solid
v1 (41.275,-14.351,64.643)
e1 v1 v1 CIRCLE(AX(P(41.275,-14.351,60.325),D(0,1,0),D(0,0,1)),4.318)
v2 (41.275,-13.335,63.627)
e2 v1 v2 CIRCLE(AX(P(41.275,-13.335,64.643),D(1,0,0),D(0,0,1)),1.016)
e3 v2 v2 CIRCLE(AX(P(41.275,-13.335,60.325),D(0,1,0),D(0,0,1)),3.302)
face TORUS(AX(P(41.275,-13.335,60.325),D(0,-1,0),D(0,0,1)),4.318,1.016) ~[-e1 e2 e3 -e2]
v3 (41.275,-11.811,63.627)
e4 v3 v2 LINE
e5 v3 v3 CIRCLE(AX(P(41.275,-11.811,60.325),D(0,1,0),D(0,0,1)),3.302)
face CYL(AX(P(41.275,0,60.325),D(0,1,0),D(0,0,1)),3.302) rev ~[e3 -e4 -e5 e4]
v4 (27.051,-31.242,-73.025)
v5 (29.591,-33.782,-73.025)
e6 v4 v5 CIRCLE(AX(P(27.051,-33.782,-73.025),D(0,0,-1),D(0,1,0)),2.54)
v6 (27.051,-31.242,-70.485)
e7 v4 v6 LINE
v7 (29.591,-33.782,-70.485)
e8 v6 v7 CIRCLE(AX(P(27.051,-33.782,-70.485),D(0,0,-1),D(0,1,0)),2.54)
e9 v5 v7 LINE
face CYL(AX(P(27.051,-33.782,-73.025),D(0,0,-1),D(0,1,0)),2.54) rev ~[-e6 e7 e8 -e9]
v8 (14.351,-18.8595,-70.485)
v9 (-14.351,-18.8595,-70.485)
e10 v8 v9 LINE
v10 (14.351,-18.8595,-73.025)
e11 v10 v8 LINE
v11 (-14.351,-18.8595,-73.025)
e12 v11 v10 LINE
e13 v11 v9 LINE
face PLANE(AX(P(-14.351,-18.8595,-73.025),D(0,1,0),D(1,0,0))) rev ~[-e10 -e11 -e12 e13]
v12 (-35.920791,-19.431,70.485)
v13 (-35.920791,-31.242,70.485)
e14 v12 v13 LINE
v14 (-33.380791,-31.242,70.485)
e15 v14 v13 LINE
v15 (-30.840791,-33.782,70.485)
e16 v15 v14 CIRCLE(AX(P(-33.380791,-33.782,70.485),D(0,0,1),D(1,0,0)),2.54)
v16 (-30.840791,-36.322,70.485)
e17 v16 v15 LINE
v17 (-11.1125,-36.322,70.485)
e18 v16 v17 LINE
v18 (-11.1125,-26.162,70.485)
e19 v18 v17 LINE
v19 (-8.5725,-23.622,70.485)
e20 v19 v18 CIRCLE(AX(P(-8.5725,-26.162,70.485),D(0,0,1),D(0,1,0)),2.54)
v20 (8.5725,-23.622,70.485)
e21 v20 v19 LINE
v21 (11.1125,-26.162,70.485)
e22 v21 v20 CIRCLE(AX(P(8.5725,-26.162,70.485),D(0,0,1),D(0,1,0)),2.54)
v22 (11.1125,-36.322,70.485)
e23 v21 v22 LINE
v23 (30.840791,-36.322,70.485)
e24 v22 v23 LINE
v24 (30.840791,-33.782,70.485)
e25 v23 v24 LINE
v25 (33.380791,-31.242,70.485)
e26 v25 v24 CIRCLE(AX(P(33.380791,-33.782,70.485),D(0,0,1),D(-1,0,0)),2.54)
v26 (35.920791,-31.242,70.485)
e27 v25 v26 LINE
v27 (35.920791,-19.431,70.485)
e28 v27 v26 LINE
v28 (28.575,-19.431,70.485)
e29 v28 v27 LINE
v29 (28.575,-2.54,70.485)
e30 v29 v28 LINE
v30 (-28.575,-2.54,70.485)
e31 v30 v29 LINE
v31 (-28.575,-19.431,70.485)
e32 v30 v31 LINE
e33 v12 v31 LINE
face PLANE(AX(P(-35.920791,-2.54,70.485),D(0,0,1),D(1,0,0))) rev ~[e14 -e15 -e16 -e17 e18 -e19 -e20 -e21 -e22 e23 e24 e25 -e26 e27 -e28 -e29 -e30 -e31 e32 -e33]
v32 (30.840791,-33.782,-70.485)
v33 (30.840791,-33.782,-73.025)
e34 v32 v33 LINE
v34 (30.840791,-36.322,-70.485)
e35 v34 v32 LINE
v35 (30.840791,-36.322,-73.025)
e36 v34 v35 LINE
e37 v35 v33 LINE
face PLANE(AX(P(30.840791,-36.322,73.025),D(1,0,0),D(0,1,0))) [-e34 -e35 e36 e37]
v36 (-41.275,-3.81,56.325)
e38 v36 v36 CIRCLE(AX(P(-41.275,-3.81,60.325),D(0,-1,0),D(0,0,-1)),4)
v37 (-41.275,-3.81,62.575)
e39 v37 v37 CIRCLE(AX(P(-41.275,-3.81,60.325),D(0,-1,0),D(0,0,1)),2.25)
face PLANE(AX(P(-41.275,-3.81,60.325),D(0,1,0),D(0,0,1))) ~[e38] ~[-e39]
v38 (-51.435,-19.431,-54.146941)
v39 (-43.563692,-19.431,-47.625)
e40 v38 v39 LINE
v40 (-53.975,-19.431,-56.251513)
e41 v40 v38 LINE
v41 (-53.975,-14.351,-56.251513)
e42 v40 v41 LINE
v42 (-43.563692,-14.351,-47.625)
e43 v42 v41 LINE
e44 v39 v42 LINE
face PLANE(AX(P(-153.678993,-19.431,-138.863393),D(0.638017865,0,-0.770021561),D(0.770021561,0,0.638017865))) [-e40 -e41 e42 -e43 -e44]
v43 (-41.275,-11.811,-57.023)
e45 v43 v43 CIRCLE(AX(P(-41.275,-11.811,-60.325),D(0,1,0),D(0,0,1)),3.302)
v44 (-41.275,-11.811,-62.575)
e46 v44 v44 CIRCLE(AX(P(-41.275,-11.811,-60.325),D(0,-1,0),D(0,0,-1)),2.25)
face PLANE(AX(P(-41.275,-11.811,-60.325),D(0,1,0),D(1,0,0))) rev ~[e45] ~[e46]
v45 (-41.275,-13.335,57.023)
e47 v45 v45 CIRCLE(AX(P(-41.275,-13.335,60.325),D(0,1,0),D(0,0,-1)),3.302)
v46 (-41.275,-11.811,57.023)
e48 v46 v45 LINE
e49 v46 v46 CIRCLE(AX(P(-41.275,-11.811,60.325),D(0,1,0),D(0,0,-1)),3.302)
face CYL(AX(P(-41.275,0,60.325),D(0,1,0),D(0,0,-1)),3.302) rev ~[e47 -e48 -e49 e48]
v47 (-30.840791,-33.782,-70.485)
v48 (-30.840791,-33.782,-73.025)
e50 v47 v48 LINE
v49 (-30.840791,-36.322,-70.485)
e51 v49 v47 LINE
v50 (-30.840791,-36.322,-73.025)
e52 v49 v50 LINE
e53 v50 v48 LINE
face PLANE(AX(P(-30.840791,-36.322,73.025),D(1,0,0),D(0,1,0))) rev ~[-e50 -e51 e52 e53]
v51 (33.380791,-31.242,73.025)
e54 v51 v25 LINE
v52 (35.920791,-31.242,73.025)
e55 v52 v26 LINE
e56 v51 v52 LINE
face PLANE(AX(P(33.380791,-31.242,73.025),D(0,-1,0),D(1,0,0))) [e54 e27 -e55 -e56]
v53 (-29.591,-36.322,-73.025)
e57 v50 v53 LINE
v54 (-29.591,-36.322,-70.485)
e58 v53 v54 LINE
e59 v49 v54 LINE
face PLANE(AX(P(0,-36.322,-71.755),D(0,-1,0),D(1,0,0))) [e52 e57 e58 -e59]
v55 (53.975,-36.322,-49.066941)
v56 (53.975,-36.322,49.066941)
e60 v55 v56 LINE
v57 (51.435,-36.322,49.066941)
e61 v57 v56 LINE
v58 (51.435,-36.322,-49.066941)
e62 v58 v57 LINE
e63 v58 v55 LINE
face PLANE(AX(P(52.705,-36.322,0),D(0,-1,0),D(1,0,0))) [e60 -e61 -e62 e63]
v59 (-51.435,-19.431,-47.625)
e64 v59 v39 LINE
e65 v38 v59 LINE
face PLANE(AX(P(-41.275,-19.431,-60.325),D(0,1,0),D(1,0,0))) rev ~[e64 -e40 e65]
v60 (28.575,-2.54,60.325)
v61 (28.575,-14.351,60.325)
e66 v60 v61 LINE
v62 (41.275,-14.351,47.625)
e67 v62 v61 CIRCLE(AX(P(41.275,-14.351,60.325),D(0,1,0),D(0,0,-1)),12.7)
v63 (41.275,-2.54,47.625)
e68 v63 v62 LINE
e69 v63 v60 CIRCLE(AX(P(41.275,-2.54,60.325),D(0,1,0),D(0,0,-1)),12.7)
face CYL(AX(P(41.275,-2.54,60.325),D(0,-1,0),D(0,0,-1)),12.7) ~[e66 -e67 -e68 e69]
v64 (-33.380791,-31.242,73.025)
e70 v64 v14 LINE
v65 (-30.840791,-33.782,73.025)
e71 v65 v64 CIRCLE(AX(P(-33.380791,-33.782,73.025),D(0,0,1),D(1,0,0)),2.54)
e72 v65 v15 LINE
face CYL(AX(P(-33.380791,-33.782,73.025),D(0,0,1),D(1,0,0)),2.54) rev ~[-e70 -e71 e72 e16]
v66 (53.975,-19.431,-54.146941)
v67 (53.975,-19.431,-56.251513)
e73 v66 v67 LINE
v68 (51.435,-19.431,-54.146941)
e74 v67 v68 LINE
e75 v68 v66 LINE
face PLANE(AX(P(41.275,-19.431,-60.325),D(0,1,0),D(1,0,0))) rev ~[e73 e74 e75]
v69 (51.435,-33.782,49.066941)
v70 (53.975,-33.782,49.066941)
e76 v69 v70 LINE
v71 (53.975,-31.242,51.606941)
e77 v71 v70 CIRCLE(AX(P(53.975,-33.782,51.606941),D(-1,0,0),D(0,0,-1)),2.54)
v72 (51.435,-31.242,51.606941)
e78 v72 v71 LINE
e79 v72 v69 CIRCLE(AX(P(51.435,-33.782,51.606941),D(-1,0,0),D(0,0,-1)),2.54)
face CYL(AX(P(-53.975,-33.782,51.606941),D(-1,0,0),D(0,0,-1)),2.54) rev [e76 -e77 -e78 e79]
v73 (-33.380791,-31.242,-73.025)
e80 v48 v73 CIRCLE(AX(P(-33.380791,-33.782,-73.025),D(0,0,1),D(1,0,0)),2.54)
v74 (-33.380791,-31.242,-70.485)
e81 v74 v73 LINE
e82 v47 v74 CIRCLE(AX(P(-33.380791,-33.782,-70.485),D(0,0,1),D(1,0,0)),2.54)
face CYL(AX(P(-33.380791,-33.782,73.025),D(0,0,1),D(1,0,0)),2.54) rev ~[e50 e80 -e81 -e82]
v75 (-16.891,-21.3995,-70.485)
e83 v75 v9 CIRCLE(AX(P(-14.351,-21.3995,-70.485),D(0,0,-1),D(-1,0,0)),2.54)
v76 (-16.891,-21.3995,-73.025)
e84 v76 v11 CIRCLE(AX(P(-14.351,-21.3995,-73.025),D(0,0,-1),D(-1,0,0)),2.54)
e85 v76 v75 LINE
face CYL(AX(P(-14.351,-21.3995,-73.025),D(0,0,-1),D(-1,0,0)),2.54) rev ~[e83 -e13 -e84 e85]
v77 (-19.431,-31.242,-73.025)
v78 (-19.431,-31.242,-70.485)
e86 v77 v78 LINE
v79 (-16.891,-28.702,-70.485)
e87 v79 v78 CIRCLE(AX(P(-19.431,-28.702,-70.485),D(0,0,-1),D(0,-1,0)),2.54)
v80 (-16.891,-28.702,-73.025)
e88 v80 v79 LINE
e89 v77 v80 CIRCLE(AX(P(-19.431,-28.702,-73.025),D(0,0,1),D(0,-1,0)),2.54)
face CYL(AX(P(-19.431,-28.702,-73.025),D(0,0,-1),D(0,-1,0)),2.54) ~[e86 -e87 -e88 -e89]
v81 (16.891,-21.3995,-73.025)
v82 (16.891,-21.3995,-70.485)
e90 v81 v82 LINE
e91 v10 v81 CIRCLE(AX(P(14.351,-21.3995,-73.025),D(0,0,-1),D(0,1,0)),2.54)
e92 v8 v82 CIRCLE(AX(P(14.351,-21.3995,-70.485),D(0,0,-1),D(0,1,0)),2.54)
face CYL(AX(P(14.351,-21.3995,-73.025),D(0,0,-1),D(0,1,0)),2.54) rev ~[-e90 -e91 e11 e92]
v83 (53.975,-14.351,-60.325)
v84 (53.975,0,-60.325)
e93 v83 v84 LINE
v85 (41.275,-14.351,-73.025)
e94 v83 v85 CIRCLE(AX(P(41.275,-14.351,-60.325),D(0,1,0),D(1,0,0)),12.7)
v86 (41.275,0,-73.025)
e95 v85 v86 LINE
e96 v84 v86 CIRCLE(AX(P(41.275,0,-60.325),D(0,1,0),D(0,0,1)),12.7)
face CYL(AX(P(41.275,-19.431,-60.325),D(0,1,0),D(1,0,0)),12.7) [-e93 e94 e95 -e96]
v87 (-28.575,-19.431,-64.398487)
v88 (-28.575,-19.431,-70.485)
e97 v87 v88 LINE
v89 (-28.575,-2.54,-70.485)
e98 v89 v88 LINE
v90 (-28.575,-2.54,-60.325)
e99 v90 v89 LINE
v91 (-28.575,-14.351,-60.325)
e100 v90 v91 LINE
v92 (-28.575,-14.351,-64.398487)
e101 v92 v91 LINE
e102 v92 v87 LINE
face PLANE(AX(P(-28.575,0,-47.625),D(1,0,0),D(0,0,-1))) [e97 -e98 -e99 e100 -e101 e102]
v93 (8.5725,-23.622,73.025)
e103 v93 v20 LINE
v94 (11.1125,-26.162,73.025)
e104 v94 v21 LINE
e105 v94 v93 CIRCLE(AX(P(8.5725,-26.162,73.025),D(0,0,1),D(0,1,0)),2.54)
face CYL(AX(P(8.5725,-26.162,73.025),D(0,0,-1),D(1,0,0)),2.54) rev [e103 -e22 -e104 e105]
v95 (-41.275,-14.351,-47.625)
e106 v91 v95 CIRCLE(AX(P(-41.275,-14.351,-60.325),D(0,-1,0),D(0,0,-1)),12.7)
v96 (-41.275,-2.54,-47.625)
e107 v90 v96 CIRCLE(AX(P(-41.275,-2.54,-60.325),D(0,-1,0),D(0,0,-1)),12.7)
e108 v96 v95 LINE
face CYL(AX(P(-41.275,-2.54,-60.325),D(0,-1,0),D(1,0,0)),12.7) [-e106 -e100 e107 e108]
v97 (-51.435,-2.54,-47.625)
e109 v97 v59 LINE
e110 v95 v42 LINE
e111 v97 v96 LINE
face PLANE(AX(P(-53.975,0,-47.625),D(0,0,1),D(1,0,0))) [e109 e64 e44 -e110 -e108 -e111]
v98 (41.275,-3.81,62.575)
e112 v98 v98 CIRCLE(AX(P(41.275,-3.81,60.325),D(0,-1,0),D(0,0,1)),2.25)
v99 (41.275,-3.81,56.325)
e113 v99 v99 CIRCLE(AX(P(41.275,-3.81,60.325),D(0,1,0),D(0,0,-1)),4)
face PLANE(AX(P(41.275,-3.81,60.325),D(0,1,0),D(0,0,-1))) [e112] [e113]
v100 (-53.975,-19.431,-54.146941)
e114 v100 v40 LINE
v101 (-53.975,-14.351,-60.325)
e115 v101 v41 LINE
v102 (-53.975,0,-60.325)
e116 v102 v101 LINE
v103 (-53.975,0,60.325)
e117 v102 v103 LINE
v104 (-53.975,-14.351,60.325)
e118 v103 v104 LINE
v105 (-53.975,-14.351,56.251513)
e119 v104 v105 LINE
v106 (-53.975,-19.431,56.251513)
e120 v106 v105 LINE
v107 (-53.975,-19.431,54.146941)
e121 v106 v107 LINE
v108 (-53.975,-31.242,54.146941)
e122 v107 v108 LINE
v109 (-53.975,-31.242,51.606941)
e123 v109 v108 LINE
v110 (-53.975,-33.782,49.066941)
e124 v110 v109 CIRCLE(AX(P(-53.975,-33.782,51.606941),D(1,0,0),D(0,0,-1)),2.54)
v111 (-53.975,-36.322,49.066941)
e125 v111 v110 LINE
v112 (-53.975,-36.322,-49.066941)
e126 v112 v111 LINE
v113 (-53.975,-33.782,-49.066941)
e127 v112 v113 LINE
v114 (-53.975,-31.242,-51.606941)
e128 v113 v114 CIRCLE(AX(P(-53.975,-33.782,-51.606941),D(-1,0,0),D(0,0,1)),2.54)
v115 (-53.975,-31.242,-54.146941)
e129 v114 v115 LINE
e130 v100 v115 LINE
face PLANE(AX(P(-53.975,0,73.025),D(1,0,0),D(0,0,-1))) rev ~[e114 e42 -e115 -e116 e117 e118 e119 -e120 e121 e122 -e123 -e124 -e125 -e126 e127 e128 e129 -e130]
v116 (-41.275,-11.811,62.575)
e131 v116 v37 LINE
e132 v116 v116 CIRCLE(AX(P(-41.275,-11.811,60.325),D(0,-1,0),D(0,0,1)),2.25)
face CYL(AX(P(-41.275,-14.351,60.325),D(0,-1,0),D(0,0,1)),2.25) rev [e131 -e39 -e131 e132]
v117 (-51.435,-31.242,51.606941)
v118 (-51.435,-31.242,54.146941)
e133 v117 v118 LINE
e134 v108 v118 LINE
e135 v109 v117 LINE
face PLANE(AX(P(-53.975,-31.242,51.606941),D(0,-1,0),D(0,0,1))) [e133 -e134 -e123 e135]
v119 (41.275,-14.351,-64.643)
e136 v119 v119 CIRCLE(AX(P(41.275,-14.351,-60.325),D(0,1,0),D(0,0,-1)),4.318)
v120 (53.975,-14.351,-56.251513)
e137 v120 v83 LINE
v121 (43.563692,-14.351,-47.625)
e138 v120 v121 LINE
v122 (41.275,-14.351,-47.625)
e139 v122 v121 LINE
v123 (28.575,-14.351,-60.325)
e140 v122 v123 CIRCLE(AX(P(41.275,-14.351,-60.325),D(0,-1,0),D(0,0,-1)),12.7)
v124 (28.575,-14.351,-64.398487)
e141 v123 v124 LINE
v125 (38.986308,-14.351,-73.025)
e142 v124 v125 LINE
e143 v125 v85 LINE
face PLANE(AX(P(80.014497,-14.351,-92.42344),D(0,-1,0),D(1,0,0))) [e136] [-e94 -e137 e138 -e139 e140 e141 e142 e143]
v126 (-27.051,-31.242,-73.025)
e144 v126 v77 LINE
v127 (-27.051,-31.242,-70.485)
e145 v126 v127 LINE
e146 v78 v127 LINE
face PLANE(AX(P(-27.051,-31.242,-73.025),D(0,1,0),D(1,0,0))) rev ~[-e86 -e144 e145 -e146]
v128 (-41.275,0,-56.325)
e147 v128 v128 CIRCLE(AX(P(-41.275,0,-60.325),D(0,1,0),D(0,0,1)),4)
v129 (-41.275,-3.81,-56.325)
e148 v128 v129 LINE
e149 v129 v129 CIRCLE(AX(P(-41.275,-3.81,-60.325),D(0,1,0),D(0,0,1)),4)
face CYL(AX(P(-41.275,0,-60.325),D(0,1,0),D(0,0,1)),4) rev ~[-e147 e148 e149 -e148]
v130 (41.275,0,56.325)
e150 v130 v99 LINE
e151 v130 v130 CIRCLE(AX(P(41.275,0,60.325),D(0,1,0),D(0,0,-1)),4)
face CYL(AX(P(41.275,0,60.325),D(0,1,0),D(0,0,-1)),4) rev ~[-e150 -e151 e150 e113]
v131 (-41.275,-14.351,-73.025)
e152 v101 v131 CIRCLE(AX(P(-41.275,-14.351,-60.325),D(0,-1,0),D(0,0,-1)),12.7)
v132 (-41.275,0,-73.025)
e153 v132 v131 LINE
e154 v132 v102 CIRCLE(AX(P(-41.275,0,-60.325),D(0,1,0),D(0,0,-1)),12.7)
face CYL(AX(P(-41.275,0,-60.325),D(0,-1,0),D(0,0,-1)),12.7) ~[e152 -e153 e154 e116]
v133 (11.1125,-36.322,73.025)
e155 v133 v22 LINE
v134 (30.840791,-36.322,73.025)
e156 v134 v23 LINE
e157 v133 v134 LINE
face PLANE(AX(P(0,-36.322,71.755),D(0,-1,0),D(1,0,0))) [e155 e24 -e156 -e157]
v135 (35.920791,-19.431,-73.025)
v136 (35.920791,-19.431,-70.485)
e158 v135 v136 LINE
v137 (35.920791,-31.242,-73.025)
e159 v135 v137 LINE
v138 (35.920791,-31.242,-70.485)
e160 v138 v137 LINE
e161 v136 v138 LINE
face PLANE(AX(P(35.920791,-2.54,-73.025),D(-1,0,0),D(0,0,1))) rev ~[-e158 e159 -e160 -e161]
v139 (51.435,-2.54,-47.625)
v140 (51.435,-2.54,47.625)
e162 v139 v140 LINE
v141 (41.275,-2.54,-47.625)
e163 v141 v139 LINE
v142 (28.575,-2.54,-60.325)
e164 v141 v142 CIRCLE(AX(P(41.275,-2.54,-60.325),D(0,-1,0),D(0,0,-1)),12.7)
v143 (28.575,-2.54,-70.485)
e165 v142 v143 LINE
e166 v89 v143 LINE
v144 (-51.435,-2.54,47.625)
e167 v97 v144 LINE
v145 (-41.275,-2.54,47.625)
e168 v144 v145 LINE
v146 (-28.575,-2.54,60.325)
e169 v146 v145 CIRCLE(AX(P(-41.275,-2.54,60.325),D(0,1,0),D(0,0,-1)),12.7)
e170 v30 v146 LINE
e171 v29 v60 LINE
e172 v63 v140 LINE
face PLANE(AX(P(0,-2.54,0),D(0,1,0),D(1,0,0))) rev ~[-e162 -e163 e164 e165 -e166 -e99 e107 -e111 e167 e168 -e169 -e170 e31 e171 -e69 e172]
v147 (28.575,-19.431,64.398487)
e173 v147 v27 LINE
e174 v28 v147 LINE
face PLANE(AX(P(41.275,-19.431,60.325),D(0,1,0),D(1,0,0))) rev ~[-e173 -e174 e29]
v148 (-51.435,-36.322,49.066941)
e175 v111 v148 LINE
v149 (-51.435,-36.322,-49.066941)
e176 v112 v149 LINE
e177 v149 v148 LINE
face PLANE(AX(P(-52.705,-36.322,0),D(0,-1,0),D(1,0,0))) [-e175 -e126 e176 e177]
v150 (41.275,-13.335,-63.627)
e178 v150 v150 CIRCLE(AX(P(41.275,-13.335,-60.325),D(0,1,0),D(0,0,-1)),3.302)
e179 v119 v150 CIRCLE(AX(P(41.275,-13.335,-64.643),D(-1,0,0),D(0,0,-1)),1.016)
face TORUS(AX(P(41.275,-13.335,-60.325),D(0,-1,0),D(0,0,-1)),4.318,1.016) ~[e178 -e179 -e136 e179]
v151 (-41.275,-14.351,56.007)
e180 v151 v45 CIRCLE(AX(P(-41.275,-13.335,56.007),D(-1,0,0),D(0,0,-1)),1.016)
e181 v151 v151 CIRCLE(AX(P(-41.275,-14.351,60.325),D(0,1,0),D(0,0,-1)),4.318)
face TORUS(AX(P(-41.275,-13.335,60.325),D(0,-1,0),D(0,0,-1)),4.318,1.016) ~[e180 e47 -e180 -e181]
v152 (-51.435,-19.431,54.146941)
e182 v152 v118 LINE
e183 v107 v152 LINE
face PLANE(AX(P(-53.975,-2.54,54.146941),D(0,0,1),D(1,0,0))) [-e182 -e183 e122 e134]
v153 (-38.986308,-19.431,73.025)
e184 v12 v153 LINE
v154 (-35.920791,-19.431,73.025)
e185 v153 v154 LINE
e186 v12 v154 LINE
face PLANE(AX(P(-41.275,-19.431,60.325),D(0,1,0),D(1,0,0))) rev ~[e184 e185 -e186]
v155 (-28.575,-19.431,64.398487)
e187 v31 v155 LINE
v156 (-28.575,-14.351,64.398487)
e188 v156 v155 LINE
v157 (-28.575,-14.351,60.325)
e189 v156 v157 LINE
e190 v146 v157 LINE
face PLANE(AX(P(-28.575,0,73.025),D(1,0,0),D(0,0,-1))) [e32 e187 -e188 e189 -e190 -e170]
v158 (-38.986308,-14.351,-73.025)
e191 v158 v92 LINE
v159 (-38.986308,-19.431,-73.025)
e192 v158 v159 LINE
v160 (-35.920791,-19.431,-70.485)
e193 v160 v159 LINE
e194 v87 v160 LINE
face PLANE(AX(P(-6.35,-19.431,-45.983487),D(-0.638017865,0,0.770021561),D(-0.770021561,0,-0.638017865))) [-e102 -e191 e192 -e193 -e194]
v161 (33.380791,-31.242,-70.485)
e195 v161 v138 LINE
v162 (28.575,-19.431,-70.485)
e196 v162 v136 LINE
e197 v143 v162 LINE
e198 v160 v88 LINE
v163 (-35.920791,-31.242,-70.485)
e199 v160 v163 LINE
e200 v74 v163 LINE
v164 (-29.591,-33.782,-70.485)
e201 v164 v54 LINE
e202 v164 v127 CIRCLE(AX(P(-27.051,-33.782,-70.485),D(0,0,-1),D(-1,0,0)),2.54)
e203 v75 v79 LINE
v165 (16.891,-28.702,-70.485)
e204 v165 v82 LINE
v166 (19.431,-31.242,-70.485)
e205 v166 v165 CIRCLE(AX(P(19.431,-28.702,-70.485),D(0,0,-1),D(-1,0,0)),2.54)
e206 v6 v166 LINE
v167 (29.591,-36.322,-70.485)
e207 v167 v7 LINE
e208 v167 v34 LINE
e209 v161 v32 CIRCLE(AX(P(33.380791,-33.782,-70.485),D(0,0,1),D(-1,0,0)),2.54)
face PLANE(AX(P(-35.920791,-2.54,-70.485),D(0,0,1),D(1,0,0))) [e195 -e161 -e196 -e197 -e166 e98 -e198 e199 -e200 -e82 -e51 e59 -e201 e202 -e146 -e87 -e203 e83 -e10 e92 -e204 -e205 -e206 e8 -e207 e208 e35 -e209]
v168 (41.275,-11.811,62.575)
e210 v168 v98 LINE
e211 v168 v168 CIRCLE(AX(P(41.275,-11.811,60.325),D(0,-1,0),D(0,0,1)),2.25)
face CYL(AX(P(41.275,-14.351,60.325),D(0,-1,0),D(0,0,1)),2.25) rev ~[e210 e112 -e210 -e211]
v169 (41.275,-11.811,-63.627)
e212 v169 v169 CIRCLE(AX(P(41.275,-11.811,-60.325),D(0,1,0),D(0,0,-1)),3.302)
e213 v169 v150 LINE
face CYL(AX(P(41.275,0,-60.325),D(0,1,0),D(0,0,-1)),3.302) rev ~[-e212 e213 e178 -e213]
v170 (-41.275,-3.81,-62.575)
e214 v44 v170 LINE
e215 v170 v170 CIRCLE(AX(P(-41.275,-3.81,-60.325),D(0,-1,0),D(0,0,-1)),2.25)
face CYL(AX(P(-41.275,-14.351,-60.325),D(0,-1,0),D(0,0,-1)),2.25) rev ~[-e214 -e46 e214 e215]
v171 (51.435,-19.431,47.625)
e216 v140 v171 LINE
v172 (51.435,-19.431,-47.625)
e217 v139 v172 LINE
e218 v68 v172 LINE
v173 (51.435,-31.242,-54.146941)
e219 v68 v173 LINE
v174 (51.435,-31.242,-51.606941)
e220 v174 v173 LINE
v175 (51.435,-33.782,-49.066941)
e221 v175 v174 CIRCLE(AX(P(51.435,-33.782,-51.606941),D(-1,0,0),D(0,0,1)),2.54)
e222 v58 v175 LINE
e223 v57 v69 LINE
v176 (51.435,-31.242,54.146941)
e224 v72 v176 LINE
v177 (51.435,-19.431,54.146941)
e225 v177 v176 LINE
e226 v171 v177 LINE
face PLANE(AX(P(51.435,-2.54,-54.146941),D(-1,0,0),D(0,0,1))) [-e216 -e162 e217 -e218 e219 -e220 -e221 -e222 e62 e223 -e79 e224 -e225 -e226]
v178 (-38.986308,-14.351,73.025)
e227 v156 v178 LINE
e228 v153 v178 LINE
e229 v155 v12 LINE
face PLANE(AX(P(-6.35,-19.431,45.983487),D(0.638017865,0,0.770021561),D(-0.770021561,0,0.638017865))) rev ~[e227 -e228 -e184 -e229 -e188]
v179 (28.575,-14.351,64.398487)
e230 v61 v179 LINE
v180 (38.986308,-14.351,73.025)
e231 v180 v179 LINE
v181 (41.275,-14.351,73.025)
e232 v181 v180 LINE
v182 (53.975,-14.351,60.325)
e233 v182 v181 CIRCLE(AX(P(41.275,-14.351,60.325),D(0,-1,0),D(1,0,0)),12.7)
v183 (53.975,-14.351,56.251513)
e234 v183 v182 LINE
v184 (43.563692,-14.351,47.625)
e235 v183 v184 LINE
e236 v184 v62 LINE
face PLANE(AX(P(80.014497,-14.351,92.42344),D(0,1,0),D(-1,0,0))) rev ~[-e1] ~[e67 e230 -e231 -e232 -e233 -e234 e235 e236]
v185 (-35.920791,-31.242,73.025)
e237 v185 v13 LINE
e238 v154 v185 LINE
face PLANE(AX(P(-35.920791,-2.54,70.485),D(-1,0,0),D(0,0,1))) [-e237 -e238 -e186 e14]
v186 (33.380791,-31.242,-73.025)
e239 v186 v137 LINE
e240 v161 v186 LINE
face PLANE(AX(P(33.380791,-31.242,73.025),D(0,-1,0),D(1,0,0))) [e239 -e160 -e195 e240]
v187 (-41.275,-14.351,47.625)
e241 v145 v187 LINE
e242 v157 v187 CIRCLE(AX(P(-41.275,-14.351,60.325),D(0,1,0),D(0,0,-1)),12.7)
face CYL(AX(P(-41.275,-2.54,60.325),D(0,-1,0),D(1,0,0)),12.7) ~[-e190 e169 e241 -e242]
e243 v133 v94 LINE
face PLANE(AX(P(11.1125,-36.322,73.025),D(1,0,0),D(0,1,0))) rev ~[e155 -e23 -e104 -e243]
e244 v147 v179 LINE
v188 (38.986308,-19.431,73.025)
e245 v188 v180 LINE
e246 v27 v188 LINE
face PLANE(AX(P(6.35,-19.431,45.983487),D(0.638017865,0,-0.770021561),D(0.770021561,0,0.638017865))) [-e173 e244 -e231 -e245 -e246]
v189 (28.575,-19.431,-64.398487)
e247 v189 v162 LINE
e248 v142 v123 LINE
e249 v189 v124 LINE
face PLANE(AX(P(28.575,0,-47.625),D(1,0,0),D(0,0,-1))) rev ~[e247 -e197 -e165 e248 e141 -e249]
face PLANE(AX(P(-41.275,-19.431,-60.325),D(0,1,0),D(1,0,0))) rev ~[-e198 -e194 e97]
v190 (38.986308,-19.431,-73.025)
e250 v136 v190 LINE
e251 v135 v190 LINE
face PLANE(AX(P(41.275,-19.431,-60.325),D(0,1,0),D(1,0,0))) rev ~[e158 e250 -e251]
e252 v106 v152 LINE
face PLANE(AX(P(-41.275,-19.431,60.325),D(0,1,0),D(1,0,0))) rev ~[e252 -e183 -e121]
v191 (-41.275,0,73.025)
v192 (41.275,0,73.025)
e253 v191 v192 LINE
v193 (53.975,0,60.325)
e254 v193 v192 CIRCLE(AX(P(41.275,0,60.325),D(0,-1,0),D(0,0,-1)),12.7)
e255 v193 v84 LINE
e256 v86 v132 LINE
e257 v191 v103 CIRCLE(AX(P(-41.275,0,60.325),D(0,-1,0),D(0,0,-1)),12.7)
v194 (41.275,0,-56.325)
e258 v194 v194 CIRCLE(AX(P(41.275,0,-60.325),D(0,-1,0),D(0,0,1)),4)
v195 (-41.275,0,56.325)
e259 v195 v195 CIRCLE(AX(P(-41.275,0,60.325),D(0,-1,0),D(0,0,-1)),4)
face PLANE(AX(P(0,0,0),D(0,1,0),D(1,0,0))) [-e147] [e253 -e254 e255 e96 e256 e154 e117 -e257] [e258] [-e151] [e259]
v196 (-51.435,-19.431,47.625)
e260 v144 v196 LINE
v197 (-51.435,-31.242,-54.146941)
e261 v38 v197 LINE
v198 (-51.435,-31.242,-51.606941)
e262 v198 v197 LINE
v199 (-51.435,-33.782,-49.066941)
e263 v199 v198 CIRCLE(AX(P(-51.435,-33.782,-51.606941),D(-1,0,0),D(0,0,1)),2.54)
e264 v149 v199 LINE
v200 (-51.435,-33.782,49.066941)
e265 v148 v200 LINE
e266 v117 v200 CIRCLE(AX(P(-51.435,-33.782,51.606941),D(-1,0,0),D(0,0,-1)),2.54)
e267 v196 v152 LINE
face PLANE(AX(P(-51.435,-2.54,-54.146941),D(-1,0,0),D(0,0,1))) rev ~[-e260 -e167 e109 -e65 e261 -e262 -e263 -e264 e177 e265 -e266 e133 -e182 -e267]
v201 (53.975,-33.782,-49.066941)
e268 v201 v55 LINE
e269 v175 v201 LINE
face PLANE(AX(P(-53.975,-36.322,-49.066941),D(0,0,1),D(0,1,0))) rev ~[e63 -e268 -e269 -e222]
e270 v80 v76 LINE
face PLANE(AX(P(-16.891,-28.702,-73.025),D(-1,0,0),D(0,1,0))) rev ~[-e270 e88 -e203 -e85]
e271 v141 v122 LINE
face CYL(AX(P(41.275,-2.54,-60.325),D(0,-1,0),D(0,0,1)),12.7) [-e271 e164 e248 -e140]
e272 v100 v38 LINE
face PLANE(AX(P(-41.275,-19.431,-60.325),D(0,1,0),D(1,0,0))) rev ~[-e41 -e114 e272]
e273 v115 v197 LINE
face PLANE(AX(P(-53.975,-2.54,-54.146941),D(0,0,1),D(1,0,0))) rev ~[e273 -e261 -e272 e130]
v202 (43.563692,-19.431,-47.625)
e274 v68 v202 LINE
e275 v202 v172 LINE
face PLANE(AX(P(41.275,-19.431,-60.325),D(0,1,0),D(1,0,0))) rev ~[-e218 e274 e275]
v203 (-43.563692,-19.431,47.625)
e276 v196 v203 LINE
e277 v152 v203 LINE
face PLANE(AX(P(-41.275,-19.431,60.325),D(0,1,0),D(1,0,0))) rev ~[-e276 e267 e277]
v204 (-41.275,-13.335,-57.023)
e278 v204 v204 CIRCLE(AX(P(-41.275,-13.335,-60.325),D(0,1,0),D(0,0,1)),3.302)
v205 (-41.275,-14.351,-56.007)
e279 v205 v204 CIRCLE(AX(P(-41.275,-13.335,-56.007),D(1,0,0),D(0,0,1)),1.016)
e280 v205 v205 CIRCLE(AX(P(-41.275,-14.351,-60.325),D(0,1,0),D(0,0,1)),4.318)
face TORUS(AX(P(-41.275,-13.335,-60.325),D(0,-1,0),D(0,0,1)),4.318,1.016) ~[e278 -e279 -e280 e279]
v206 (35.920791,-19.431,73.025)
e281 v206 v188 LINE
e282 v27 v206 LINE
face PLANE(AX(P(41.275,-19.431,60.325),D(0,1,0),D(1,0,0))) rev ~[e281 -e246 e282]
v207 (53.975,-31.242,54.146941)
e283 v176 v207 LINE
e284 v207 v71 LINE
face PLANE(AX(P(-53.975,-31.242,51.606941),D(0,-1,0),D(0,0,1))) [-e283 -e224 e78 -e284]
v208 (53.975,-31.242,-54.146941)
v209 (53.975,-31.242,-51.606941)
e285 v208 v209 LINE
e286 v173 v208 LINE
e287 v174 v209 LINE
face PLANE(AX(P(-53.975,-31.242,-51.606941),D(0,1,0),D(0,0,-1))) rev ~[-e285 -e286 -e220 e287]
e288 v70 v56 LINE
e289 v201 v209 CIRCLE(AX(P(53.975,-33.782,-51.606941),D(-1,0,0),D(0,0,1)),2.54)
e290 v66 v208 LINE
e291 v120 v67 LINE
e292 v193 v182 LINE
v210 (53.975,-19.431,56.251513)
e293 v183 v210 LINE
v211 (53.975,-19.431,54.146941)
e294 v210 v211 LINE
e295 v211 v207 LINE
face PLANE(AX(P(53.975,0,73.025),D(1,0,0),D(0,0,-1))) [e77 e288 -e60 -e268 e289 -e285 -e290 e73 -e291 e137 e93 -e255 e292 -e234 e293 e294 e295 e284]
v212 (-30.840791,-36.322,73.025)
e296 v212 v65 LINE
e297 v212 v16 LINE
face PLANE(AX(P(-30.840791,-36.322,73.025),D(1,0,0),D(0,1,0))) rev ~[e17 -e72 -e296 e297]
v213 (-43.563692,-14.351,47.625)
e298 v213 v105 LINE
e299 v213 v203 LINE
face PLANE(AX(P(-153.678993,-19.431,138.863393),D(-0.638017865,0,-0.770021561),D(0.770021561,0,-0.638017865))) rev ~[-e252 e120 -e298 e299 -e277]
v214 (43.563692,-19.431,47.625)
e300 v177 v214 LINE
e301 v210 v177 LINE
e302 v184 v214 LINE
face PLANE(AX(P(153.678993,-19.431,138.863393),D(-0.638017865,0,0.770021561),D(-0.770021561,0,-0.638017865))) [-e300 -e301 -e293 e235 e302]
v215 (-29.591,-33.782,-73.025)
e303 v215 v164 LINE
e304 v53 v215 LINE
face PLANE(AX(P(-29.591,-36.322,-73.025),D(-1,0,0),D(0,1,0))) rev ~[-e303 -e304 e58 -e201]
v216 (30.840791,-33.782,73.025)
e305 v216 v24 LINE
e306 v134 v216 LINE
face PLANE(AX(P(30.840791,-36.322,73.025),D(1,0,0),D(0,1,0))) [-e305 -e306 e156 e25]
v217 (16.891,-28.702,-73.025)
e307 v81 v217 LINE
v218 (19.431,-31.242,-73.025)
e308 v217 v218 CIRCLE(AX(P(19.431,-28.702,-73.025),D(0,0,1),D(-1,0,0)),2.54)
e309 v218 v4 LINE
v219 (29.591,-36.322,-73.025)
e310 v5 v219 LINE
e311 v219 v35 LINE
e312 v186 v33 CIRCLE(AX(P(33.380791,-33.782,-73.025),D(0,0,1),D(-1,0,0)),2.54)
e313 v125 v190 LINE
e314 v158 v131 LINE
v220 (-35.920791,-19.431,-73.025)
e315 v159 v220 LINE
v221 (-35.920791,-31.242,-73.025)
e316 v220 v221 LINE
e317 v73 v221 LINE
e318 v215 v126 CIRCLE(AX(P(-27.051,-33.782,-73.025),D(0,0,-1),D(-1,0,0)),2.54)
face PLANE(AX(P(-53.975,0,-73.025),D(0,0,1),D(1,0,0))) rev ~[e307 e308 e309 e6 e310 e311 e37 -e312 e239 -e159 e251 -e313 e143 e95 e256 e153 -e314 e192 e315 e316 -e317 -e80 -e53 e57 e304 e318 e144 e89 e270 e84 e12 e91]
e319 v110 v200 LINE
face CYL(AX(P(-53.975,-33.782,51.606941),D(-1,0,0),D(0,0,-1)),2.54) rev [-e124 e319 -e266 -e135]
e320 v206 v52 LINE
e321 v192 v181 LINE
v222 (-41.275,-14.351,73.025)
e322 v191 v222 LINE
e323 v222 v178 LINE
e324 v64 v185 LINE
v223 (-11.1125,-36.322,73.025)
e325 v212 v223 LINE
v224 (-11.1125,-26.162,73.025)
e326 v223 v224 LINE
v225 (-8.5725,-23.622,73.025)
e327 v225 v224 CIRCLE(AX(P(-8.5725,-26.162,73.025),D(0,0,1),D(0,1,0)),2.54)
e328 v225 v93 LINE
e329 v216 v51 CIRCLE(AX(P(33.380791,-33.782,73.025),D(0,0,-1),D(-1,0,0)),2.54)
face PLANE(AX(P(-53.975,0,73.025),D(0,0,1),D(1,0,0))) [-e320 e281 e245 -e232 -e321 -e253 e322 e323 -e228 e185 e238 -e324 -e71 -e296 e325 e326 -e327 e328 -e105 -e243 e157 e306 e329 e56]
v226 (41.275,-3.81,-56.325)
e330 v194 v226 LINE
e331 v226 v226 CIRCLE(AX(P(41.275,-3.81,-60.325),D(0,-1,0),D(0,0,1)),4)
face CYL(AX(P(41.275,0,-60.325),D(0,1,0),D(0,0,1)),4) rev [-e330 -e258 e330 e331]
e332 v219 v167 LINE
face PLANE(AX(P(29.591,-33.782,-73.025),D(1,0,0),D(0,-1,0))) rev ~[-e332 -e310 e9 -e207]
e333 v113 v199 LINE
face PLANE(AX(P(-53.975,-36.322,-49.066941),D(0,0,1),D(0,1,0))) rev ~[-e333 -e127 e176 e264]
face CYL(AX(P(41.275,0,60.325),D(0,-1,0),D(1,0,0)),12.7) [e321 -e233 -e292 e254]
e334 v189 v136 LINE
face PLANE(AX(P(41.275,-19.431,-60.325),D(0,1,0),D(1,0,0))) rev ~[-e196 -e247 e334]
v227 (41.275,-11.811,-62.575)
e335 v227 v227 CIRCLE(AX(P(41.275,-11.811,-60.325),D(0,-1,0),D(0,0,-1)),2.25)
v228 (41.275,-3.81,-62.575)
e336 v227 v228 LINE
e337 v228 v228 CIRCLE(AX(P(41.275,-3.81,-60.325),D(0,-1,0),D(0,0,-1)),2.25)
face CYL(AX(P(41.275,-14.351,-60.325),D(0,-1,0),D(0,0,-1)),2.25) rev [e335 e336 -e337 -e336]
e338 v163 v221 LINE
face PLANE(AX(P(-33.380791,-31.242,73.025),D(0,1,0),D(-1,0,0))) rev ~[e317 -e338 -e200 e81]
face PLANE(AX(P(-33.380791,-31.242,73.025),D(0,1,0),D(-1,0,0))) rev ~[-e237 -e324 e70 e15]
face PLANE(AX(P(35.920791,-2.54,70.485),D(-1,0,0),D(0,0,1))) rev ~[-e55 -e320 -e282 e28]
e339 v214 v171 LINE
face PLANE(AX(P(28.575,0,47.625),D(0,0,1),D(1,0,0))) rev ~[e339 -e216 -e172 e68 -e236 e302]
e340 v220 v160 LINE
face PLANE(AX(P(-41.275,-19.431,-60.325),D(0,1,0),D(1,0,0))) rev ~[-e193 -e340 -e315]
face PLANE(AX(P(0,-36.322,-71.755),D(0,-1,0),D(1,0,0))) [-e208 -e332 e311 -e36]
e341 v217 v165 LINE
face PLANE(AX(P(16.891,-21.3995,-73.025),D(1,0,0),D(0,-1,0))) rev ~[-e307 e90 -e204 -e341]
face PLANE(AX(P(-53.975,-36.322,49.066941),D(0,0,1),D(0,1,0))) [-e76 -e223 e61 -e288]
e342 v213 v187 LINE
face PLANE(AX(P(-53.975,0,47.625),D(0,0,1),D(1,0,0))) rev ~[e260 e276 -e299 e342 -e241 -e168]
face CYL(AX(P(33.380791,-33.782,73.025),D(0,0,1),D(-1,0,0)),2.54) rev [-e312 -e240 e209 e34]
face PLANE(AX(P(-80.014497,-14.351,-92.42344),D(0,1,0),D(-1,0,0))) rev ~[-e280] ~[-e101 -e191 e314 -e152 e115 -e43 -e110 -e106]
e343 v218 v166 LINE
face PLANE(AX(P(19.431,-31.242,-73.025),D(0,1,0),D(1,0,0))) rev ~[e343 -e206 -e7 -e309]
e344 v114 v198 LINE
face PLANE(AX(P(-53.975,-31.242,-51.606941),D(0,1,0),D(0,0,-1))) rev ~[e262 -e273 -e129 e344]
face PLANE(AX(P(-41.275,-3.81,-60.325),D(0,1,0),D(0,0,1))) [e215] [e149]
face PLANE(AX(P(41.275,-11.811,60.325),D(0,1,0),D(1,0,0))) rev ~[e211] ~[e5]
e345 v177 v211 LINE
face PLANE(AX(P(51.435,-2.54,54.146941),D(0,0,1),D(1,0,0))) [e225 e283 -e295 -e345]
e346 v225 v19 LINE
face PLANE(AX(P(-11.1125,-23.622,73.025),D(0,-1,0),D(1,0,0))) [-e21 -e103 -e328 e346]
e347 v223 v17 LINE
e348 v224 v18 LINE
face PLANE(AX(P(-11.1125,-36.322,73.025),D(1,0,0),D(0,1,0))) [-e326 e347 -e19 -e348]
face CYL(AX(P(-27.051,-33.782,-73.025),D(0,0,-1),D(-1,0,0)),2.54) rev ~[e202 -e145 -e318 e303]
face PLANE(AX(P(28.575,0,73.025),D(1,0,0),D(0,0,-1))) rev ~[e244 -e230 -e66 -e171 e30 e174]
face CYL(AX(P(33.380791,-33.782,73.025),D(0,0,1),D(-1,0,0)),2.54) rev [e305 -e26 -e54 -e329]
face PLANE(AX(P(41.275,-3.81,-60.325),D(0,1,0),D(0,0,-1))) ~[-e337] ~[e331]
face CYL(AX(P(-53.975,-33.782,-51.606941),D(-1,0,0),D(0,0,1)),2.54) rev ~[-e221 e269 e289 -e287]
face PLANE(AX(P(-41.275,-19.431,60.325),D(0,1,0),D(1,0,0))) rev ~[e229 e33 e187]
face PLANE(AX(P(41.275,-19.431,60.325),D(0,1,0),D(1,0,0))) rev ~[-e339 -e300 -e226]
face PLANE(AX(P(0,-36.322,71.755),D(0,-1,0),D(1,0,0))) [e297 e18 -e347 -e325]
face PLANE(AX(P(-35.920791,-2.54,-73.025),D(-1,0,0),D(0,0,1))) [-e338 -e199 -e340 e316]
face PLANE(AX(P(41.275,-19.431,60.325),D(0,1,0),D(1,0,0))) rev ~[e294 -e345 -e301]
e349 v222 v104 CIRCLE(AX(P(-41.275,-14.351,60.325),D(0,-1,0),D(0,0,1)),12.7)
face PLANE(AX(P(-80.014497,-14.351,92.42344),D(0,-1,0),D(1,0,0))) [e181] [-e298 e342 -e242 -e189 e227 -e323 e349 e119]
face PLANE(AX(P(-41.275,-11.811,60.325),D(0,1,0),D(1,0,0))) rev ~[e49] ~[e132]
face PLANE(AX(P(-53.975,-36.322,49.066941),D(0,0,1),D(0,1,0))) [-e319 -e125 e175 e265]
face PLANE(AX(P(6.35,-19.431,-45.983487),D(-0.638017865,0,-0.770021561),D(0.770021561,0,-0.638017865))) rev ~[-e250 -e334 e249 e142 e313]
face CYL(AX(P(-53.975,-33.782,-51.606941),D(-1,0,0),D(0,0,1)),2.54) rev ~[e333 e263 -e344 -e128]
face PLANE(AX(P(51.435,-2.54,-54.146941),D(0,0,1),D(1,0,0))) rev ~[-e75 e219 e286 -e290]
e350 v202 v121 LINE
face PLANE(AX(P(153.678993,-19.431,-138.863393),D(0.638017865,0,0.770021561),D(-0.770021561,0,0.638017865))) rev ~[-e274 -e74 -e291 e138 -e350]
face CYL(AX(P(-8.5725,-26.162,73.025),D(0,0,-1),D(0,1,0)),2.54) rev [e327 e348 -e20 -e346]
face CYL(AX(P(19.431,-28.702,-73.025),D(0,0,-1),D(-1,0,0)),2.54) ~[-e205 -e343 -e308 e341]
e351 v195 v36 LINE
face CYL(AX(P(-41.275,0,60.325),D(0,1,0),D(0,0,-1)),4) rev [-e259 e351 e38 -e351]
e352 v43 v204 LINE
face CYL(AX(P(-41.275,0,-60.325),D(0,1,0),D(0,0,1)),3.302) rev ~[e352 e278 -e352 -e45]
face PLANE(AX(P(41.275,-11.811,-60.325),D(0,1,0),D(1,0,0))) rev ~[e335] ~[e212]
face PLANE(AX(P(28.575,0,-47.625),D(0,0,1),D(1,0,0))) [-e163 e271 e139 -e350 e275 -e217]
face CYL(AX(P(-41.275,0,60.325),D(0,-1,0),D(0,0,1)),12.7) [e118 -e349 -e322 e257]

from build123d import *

# Parameters (mm, degrees)
SKETCH1_W               = 107.95
SKETCH1_H               = 146.05
BOSS_EXTRUDE1_DEPTH     = 2.54
SKETCH13_W              = 25.4
SKETCH13_H              = 25.4
BOSS_EXTRUDE4_DEPTH     = 19.431
SKETCH2_R               = 3.302
CUT_EXTRUDE1_DEPTH      = 93.862882849
FILLET1_R               = 12.7
CUT_EXTRUDE13_DEPTH     = 5.08
SKETCH15_R              = 6.35
BOSS_EXTRUDE5_DEPTH     = 11.811
SKETCH23_R              = 2.25
CUT_EXTRUDE14_DEPTH     = 92.934228941
SKETCH24_R              = 4
CUT_EXTRUDE15_DEPTH     = 3.81
MIRROR2_COPY_1_SKETCH_R = 2.25
MIRROR2_COPY_1_DEPTH    = 92.934228941
MIRROR2_COPY_2_SKETCH_R = 4
MIRROR2_COPY_2_DEPTH    = 3.81
FILLET3_R               = 12.7
FILLET4_R               = 1.016
SKETCH27_W              = 71.841582164
SKETCH27_H              = 2.54
SKETCH27_W_2            = 2.54
SKETCH27_H_2            = 108.293882364
BOSS_EXTRUDE6_DEPTH     = 33.782
CUT_EXTRUDE16_DEPTH     = 41.656
CUT_EXTRUDE17_DEPTH     = 136.296492227
CUT_EXTRUDE18_DEPTH     = 160.8849299
CUT_EXTRUDE19_REACH     = 161.885
SKETCH31_W              = 22.225
SKETCH31_H              = 12.7
FILLET5_R               = 2.54


with BuildPart() as part:
    # Sketch1 → Boss-Extrude1 (new body)
    with BuildSketch(Plane(origin=(0, 0, 0), x_dir=(1, 0, 0), z_dir=(0, 1, 0))):
        Rectangle(SKETCH1_W, SKETCH1_H)
    extrude(amount=-BOSS_EXTRUDE1_DEPTH)

    # Sketch13 → Boss-Extrude4 (add)
    with BuildSketch(Plane(origin=(0, 0, 0), x_dir=(1, 0, 0), z_dir=(0, 1, 0))):
        with Locations((41.275, -60.325)):
            Rectangle(SKETCH13_W, SKETCH13_H)
        with Locations((-41.275, -60.325)):
            Rectangle(SKETCH13_W, SKETCH13_H)
        with Locations((-41.275, 60.325)):
            Rectangle(SKETCH13_W, SKETCH13_H)
        with Locations((41.275, 60.325)):
            Rectangle(SKETCH13_W, SKETCH13_H)
    extrude(amount=-BOSS_EXTRUDE4_DEPTH)

    # Sketch2 → Cut-Extrude1 (cut, through all)
    with BuildSketch(Plane(origin=(0, 0, 0), x_dir=(1, 0, 0), z_dir=(0, 1, 0))):
        with Locations(Location((-41.275, 60.325, 0), (0, 0, 270))):
            Circle(SKETCH2_R)
        with Locations(Location((41.275, 60.325, 0), (0, 0, 90))):
            Circle(SKETCH2_R)
        with Locations(Location((41.275, -60.325, 0), (0, 0, 270))):
            Circle(SKETCH2_R)
        with Locations(Location((-41.275, -60.325, 0), (0, 0, 90))):
            Circle(SKETCH2_R)
    extrude(amount=-CUT_EXTRUDE1_DEPTH, mode=Mode.SUBTRACT)

    # Fillet1
    fillet1_edges = [part.edges().sort_by_distance(p)[0] for p in [
        (53.975, -9.7155, 73.025),
        (-53.975, -9.7155, 73.025),
        (-53.975, -9.7155, -73.025),
        (53.975, -9.7155, -73.025),
    ]]
    fillet(fillet1_edges, radius=FILLET1_R)

    # Sketch14 → Cut-Extrude13 (cut)
    with BuildSketch(Plane.XZ.offset(19.431)):
        Polygon((20.692003582, -28.674172721), (6.35, -45.983487389), (139.336989519, -156.172707277), (153.678993101, -138.863392609), align=None)
        Polygon((-20.692003582, -28.674172721), (-6.35, -45.983487389), (-139.336989519, -156.172707277), (-153.678993101, -138.863392609), align=None)
        Polygon((-153.678993101, 138.863392609), (-20.692003582, 28.674172721), (-6.35, 45.983487389), (-139.336989519, 156.172707277), align=None)
        Polygon((20.692003582, 28.674172721), (6.35, 45.983487389), (139.336989519, 156.172707277), (153.678993101, 138.863392609), align=None)
    extrude(amount=-CUT_EXTRUDE13_DEPTH, mode=Mode.SUBTRACT)

    # Sketch15 → Boss-Extrude5 (add)
    with BuildSketch(Plane(origin=(0, 0, 0), x_dir=(1, 0, 0), z_dir=(0, 1, 0))):
        with Locations((-41.275, 60.325)):
            Circle(SKETCH15_R)
        with Locations((41.275, 60.325)):
            Circle(SKETCH15_R)
        with Locations((-41.275, -60.325)):
            Circle(SKETCH15_R)
        with Locations((41.275, -60.325)):
            Circle(SKETCH15_R)
    extrude(amount=-BOSS_EXTRUDE5_DEPTH)

    # Sketch23 → Cut-Extrude14 (cut, through all)
    with BuildSketch(Plane.XZ.offset(14.351)):
        with Locations(Location((-41.275, -60.325, 0), (0, 0, 270))):
            Circle(SKETCH23_R)
    cut_extrude14 = extrude(amount=-CUT_EXTRUDE14_DEPTH, mode=Mode.SUBTRACT)

    # Sketch24 → Cut-Extrude15 (cut)
    with BuildSketch(Plane(origin=(0, 0, 0), x_dir=(1, 0, 0), z_dir=(0, 1, 0))):
        with Locations(Location((-41.275, 60.325, 0), (0, 0, 270))):
            Circle(SKETCH24_R)
    cut_extrude15 = extrude(amount=-CUT_EXTRUDE15_DEPTH, mode=Mode.SUBTRACT)

    # Mirror1: Cut-Extrude14, Cut-Extrude15 across plane
    add(cut_extrude14.mirror(Plane.XY), mode=Mode.SUBTRACT)
    add(cut_extrude15.mirror(Plane.XY), mode=Mode.SUBTRACT)

    # Mirror2: Cut-Extrude14, Cut-Extrude15 across plane
    add(cut_extrude14.mirror(Plane(origin=(0, 0, 0), x_dir=(0, 0, 1), z_dir=(1, 0, 0))), mode=Mode.SUBTRACT)
    add(cut_extrude15.mirror(Plane(origin=(0, 0, 0), x_dir=(0, 0, 1), z_dir=(1, 0, 0))), mode=Mode.SUBTRACT)

    # Mirror2 copy 1 sketch → Mirror2 copy 1 (cut, through all)
    with BuildSketch(Plane(origin=(0, -14.351, 0), x_dir=(-1, 0, 0), z_dir=(0, -1, 0))):
        with Locations(Location((-41.275, -60.325, 0), (0, 0, 270))):
            Circle(MIRROR2_COPY_1_SKETCH_R)
    extrude(amount=-MIRROR2_COPY_1_DEPTH, mode=Mode.SUBTRACT)

    # Mirror2 copy 2 sketch → Mirror2 copy 2 (cut)
    with BuildSketch(Plane(origin=(0, 0, 0), x_dir=(-1, 0, 0), z_dir=(0, 1, 0))):
        with Locations(Location((-41.275, 60.325, 0), (0, 0, 270))):
            Circle(MIRROR2_COPY_2_SKETCH_R)
    extrude(amount=-MIRROR2_COPY_2_DEPTH, mode=Mode.SUBTRACT)

    # Fillet3
    fillet3_edges = [part.edges().sort_by_distance(p)[0] for p in [
        (28.575, -8.4455, -47.625),
        (-28.575, -8.4455, -47.625),
        (-28.575, -8.4455, 47.625),
        (28.575, -8.4455, 47.625),
    ]]
    fillet(fillet3_edges, radius=FILLET3_R)

    # Fillet4
    fillet4_edges = [part.edges().sort_by_distance(p)[0] for p in [
        (41.275, -14.351, -57.023),
        (-41.275, -14.351, -63.627),
        (-41.275, -14.351, 63.627),
        (41.275, -14.351, 57.023),
    ]]
    fillet(fillet4_edges, radius=FILLET4_R)

    # Sketch27 → Boss-Extrude6 (add)
    with BuildSketch(Plane.XZ.offset(2.54)):
        with Locations((0, -71.755)):
            Rectangle(SKETCH27_W, SKETCH27_H)
        with Locations((0, 71.755)):
            Rectangle(SKETCH27_W, SKETCH27_H)
        with Locations((52.705, 0)):
            Rectangle(SKETCH27_W_2, SKETCH27_H_2)
        with Locations((-52.705, 0)):
            Rectangle(SKETCH27_W_2, SKETCH27_H_2)
    extrude(amount=BOSS_EXTRUDE6_DEPTH)

    # Sketch28 → Cut-Extrude16 (cut)
    with BuildSketch(Plane(origin=(0, 0, -73.025), x_dir=(-1, 0, 0), z_dir=(0, 0, -1))):
        with BuildLine():
            Line((-17.526, -36.322), (17.526, -36.322))
            Line((17.526, -36.322), (29.591, -36.322))
            Line((29.591, -36.322), (29.591, -33.782))
            ThreePointArc((29.591, -33.782), (28.847051224, -31.985948776), (27.051, -31.242))
            Line((27.051, -31.242), (19.431, -31.242))
            ThreePointArc((19.431, -31.242), (17.634948776, -30.498051224), (16.891, -28.702))
            Line((16.891, -28.702), (16.891, -21.3995))
            ThreePointArc((16.891, -21.3995), (16.147051224, -19.603448776), (14.351, -18.8595))
            Line((14.351, -18.8595), (-14.351, -18.8595))
            ThreePointArc((-14.351, -18.8595), (-16.147051224, -19.603448776), (-16.891, -21.3995))
            Line((-16.891, -21.3995), (-16.891, -28.702))
            ThreePointArc((-16.891, -28.702), (-17.634948776, -30.498051224), (-19.431, -31.242))
            Line((-19.431, -31.242), (-27.051, -31.242))
            ThreePointArc((-27.051, -31.242), (-28.847051224, -31.985948776), (-29.591, -33.782))
            Line((-29.591, -33.782), (-29.591, -36.322))
            Line((-29.591, -36.322), (-17.526, -36.322))
        make_face()
    extrude(amount=-CUT_EXTRUDE16_DEPTH, mode=Mode.SUBTRACT)

    # Sketch29 → Cut-Extrude17 (cut, through all)
    with BuildSketch(Plane.ZY.offset(53.975)):
        with BuildLine():
            Line((-54.146941182, -36.322), (-49.066941182, -36.322))
            Line((-49.066941182, -36.322), (-49.066941182, -33.782))
            ThreePointArc((-49.066941182, -33.782), (-49.810889958, -31.985948776), (-51.606941182, -31.242))
            Line((-51.606941182, -31.242), (-54.146941182, -31.242))
            Line((-54.146941182, -31.242), (-54.146941182, -36.322))
        make_face()
        with BuildLine():
            Line((49.066941182, -36.322), (49.066941182, -33.782))
            ThreePointArc((49.066941182, -33.782), (49.810889958, -31.985948776), (51.606941182, -31.242))
            Line((51.606941182, -31.242), (54.146941182, -31.242))
            Line((54.146941182, -31.242), (54.146941182, -36.322))
            Line((54.146941182, -36.322), (49.066941182, -36.322))
        make_face()
    extrude(amount=-CUT_EXTRUDE17_DEPTH, mode=Mode.SUBTRACT)

    # Sketch30 → Cut-Extrude18 (cut, through all)
    with BuildSketch(Plane.XY.offset(73.025)):
        with BuildLine():
            Line((-35.920791082, -36.322), (-30.840791082, -36.322))
            Line((-30.840791082, -36.322), (-30.840791082, -33.782))
            ThreePointArc((-30.840791082, -33.782), (-31.584739858, -31.985948776), (-33.380791082, -31.242))
            Line((-33.380791082, -31.242), (-35.920791082, -31.242))
            Line((-35.920791082, -31.242), (-35.920791082, -36.322))
        make_face()
        with BuildLine():
            Line((30.840791082, -36.322), (30.840791082, -33.782))
            ThreePointArc((30.840791082, -33.782), (31.584739858, -31.985948776), (33.380791082, -31.242))
            Line((33.380791082, -31.242), (35.920791082, -31.242))
            Line((35.920791082, -31.242), (35.920791082, -36.322))
            Line((35.920791082, -36.322), (30.840791082, -36.322))
        make_face()
    extrude(amount=-CUT_EXTRUDE18_DEPTH, mode=Mode.SUBTRACT)

    # Sketch31 → Cut-Extrude19 (cut, up to next)
    with BuildSketch(Plane.XY.offset(73.025), mode=Mode.PRIVATE) as cut_extrude19_sk1:
        with Locations((0, -29.972)):
            Rectangle(SKETCH31_W, SKETCH31_H)
    cut_extrude19_tool1 = extrude(cut_extrude19_sk1.sketch, amount=-CUT_EXTRUDE19_REACH, mode=Mode.PRIVATE) & part.part
    add(cut_extrude19_tool1.solids().sort_by_distance((0, -29.972, 73.025))[0], mode=Mode.SUBTRACT)

    # Fillet5
    fillet5_edges = [part.edges().sort_by_distance(p)[0] for p in [
        (-11.1125, -23.622, 71.755),
        (11.1125, -23.622, 71.755),
    ]]
    fillet(fillet5_edges, radius=FILLET5_R)


solid = part.part
